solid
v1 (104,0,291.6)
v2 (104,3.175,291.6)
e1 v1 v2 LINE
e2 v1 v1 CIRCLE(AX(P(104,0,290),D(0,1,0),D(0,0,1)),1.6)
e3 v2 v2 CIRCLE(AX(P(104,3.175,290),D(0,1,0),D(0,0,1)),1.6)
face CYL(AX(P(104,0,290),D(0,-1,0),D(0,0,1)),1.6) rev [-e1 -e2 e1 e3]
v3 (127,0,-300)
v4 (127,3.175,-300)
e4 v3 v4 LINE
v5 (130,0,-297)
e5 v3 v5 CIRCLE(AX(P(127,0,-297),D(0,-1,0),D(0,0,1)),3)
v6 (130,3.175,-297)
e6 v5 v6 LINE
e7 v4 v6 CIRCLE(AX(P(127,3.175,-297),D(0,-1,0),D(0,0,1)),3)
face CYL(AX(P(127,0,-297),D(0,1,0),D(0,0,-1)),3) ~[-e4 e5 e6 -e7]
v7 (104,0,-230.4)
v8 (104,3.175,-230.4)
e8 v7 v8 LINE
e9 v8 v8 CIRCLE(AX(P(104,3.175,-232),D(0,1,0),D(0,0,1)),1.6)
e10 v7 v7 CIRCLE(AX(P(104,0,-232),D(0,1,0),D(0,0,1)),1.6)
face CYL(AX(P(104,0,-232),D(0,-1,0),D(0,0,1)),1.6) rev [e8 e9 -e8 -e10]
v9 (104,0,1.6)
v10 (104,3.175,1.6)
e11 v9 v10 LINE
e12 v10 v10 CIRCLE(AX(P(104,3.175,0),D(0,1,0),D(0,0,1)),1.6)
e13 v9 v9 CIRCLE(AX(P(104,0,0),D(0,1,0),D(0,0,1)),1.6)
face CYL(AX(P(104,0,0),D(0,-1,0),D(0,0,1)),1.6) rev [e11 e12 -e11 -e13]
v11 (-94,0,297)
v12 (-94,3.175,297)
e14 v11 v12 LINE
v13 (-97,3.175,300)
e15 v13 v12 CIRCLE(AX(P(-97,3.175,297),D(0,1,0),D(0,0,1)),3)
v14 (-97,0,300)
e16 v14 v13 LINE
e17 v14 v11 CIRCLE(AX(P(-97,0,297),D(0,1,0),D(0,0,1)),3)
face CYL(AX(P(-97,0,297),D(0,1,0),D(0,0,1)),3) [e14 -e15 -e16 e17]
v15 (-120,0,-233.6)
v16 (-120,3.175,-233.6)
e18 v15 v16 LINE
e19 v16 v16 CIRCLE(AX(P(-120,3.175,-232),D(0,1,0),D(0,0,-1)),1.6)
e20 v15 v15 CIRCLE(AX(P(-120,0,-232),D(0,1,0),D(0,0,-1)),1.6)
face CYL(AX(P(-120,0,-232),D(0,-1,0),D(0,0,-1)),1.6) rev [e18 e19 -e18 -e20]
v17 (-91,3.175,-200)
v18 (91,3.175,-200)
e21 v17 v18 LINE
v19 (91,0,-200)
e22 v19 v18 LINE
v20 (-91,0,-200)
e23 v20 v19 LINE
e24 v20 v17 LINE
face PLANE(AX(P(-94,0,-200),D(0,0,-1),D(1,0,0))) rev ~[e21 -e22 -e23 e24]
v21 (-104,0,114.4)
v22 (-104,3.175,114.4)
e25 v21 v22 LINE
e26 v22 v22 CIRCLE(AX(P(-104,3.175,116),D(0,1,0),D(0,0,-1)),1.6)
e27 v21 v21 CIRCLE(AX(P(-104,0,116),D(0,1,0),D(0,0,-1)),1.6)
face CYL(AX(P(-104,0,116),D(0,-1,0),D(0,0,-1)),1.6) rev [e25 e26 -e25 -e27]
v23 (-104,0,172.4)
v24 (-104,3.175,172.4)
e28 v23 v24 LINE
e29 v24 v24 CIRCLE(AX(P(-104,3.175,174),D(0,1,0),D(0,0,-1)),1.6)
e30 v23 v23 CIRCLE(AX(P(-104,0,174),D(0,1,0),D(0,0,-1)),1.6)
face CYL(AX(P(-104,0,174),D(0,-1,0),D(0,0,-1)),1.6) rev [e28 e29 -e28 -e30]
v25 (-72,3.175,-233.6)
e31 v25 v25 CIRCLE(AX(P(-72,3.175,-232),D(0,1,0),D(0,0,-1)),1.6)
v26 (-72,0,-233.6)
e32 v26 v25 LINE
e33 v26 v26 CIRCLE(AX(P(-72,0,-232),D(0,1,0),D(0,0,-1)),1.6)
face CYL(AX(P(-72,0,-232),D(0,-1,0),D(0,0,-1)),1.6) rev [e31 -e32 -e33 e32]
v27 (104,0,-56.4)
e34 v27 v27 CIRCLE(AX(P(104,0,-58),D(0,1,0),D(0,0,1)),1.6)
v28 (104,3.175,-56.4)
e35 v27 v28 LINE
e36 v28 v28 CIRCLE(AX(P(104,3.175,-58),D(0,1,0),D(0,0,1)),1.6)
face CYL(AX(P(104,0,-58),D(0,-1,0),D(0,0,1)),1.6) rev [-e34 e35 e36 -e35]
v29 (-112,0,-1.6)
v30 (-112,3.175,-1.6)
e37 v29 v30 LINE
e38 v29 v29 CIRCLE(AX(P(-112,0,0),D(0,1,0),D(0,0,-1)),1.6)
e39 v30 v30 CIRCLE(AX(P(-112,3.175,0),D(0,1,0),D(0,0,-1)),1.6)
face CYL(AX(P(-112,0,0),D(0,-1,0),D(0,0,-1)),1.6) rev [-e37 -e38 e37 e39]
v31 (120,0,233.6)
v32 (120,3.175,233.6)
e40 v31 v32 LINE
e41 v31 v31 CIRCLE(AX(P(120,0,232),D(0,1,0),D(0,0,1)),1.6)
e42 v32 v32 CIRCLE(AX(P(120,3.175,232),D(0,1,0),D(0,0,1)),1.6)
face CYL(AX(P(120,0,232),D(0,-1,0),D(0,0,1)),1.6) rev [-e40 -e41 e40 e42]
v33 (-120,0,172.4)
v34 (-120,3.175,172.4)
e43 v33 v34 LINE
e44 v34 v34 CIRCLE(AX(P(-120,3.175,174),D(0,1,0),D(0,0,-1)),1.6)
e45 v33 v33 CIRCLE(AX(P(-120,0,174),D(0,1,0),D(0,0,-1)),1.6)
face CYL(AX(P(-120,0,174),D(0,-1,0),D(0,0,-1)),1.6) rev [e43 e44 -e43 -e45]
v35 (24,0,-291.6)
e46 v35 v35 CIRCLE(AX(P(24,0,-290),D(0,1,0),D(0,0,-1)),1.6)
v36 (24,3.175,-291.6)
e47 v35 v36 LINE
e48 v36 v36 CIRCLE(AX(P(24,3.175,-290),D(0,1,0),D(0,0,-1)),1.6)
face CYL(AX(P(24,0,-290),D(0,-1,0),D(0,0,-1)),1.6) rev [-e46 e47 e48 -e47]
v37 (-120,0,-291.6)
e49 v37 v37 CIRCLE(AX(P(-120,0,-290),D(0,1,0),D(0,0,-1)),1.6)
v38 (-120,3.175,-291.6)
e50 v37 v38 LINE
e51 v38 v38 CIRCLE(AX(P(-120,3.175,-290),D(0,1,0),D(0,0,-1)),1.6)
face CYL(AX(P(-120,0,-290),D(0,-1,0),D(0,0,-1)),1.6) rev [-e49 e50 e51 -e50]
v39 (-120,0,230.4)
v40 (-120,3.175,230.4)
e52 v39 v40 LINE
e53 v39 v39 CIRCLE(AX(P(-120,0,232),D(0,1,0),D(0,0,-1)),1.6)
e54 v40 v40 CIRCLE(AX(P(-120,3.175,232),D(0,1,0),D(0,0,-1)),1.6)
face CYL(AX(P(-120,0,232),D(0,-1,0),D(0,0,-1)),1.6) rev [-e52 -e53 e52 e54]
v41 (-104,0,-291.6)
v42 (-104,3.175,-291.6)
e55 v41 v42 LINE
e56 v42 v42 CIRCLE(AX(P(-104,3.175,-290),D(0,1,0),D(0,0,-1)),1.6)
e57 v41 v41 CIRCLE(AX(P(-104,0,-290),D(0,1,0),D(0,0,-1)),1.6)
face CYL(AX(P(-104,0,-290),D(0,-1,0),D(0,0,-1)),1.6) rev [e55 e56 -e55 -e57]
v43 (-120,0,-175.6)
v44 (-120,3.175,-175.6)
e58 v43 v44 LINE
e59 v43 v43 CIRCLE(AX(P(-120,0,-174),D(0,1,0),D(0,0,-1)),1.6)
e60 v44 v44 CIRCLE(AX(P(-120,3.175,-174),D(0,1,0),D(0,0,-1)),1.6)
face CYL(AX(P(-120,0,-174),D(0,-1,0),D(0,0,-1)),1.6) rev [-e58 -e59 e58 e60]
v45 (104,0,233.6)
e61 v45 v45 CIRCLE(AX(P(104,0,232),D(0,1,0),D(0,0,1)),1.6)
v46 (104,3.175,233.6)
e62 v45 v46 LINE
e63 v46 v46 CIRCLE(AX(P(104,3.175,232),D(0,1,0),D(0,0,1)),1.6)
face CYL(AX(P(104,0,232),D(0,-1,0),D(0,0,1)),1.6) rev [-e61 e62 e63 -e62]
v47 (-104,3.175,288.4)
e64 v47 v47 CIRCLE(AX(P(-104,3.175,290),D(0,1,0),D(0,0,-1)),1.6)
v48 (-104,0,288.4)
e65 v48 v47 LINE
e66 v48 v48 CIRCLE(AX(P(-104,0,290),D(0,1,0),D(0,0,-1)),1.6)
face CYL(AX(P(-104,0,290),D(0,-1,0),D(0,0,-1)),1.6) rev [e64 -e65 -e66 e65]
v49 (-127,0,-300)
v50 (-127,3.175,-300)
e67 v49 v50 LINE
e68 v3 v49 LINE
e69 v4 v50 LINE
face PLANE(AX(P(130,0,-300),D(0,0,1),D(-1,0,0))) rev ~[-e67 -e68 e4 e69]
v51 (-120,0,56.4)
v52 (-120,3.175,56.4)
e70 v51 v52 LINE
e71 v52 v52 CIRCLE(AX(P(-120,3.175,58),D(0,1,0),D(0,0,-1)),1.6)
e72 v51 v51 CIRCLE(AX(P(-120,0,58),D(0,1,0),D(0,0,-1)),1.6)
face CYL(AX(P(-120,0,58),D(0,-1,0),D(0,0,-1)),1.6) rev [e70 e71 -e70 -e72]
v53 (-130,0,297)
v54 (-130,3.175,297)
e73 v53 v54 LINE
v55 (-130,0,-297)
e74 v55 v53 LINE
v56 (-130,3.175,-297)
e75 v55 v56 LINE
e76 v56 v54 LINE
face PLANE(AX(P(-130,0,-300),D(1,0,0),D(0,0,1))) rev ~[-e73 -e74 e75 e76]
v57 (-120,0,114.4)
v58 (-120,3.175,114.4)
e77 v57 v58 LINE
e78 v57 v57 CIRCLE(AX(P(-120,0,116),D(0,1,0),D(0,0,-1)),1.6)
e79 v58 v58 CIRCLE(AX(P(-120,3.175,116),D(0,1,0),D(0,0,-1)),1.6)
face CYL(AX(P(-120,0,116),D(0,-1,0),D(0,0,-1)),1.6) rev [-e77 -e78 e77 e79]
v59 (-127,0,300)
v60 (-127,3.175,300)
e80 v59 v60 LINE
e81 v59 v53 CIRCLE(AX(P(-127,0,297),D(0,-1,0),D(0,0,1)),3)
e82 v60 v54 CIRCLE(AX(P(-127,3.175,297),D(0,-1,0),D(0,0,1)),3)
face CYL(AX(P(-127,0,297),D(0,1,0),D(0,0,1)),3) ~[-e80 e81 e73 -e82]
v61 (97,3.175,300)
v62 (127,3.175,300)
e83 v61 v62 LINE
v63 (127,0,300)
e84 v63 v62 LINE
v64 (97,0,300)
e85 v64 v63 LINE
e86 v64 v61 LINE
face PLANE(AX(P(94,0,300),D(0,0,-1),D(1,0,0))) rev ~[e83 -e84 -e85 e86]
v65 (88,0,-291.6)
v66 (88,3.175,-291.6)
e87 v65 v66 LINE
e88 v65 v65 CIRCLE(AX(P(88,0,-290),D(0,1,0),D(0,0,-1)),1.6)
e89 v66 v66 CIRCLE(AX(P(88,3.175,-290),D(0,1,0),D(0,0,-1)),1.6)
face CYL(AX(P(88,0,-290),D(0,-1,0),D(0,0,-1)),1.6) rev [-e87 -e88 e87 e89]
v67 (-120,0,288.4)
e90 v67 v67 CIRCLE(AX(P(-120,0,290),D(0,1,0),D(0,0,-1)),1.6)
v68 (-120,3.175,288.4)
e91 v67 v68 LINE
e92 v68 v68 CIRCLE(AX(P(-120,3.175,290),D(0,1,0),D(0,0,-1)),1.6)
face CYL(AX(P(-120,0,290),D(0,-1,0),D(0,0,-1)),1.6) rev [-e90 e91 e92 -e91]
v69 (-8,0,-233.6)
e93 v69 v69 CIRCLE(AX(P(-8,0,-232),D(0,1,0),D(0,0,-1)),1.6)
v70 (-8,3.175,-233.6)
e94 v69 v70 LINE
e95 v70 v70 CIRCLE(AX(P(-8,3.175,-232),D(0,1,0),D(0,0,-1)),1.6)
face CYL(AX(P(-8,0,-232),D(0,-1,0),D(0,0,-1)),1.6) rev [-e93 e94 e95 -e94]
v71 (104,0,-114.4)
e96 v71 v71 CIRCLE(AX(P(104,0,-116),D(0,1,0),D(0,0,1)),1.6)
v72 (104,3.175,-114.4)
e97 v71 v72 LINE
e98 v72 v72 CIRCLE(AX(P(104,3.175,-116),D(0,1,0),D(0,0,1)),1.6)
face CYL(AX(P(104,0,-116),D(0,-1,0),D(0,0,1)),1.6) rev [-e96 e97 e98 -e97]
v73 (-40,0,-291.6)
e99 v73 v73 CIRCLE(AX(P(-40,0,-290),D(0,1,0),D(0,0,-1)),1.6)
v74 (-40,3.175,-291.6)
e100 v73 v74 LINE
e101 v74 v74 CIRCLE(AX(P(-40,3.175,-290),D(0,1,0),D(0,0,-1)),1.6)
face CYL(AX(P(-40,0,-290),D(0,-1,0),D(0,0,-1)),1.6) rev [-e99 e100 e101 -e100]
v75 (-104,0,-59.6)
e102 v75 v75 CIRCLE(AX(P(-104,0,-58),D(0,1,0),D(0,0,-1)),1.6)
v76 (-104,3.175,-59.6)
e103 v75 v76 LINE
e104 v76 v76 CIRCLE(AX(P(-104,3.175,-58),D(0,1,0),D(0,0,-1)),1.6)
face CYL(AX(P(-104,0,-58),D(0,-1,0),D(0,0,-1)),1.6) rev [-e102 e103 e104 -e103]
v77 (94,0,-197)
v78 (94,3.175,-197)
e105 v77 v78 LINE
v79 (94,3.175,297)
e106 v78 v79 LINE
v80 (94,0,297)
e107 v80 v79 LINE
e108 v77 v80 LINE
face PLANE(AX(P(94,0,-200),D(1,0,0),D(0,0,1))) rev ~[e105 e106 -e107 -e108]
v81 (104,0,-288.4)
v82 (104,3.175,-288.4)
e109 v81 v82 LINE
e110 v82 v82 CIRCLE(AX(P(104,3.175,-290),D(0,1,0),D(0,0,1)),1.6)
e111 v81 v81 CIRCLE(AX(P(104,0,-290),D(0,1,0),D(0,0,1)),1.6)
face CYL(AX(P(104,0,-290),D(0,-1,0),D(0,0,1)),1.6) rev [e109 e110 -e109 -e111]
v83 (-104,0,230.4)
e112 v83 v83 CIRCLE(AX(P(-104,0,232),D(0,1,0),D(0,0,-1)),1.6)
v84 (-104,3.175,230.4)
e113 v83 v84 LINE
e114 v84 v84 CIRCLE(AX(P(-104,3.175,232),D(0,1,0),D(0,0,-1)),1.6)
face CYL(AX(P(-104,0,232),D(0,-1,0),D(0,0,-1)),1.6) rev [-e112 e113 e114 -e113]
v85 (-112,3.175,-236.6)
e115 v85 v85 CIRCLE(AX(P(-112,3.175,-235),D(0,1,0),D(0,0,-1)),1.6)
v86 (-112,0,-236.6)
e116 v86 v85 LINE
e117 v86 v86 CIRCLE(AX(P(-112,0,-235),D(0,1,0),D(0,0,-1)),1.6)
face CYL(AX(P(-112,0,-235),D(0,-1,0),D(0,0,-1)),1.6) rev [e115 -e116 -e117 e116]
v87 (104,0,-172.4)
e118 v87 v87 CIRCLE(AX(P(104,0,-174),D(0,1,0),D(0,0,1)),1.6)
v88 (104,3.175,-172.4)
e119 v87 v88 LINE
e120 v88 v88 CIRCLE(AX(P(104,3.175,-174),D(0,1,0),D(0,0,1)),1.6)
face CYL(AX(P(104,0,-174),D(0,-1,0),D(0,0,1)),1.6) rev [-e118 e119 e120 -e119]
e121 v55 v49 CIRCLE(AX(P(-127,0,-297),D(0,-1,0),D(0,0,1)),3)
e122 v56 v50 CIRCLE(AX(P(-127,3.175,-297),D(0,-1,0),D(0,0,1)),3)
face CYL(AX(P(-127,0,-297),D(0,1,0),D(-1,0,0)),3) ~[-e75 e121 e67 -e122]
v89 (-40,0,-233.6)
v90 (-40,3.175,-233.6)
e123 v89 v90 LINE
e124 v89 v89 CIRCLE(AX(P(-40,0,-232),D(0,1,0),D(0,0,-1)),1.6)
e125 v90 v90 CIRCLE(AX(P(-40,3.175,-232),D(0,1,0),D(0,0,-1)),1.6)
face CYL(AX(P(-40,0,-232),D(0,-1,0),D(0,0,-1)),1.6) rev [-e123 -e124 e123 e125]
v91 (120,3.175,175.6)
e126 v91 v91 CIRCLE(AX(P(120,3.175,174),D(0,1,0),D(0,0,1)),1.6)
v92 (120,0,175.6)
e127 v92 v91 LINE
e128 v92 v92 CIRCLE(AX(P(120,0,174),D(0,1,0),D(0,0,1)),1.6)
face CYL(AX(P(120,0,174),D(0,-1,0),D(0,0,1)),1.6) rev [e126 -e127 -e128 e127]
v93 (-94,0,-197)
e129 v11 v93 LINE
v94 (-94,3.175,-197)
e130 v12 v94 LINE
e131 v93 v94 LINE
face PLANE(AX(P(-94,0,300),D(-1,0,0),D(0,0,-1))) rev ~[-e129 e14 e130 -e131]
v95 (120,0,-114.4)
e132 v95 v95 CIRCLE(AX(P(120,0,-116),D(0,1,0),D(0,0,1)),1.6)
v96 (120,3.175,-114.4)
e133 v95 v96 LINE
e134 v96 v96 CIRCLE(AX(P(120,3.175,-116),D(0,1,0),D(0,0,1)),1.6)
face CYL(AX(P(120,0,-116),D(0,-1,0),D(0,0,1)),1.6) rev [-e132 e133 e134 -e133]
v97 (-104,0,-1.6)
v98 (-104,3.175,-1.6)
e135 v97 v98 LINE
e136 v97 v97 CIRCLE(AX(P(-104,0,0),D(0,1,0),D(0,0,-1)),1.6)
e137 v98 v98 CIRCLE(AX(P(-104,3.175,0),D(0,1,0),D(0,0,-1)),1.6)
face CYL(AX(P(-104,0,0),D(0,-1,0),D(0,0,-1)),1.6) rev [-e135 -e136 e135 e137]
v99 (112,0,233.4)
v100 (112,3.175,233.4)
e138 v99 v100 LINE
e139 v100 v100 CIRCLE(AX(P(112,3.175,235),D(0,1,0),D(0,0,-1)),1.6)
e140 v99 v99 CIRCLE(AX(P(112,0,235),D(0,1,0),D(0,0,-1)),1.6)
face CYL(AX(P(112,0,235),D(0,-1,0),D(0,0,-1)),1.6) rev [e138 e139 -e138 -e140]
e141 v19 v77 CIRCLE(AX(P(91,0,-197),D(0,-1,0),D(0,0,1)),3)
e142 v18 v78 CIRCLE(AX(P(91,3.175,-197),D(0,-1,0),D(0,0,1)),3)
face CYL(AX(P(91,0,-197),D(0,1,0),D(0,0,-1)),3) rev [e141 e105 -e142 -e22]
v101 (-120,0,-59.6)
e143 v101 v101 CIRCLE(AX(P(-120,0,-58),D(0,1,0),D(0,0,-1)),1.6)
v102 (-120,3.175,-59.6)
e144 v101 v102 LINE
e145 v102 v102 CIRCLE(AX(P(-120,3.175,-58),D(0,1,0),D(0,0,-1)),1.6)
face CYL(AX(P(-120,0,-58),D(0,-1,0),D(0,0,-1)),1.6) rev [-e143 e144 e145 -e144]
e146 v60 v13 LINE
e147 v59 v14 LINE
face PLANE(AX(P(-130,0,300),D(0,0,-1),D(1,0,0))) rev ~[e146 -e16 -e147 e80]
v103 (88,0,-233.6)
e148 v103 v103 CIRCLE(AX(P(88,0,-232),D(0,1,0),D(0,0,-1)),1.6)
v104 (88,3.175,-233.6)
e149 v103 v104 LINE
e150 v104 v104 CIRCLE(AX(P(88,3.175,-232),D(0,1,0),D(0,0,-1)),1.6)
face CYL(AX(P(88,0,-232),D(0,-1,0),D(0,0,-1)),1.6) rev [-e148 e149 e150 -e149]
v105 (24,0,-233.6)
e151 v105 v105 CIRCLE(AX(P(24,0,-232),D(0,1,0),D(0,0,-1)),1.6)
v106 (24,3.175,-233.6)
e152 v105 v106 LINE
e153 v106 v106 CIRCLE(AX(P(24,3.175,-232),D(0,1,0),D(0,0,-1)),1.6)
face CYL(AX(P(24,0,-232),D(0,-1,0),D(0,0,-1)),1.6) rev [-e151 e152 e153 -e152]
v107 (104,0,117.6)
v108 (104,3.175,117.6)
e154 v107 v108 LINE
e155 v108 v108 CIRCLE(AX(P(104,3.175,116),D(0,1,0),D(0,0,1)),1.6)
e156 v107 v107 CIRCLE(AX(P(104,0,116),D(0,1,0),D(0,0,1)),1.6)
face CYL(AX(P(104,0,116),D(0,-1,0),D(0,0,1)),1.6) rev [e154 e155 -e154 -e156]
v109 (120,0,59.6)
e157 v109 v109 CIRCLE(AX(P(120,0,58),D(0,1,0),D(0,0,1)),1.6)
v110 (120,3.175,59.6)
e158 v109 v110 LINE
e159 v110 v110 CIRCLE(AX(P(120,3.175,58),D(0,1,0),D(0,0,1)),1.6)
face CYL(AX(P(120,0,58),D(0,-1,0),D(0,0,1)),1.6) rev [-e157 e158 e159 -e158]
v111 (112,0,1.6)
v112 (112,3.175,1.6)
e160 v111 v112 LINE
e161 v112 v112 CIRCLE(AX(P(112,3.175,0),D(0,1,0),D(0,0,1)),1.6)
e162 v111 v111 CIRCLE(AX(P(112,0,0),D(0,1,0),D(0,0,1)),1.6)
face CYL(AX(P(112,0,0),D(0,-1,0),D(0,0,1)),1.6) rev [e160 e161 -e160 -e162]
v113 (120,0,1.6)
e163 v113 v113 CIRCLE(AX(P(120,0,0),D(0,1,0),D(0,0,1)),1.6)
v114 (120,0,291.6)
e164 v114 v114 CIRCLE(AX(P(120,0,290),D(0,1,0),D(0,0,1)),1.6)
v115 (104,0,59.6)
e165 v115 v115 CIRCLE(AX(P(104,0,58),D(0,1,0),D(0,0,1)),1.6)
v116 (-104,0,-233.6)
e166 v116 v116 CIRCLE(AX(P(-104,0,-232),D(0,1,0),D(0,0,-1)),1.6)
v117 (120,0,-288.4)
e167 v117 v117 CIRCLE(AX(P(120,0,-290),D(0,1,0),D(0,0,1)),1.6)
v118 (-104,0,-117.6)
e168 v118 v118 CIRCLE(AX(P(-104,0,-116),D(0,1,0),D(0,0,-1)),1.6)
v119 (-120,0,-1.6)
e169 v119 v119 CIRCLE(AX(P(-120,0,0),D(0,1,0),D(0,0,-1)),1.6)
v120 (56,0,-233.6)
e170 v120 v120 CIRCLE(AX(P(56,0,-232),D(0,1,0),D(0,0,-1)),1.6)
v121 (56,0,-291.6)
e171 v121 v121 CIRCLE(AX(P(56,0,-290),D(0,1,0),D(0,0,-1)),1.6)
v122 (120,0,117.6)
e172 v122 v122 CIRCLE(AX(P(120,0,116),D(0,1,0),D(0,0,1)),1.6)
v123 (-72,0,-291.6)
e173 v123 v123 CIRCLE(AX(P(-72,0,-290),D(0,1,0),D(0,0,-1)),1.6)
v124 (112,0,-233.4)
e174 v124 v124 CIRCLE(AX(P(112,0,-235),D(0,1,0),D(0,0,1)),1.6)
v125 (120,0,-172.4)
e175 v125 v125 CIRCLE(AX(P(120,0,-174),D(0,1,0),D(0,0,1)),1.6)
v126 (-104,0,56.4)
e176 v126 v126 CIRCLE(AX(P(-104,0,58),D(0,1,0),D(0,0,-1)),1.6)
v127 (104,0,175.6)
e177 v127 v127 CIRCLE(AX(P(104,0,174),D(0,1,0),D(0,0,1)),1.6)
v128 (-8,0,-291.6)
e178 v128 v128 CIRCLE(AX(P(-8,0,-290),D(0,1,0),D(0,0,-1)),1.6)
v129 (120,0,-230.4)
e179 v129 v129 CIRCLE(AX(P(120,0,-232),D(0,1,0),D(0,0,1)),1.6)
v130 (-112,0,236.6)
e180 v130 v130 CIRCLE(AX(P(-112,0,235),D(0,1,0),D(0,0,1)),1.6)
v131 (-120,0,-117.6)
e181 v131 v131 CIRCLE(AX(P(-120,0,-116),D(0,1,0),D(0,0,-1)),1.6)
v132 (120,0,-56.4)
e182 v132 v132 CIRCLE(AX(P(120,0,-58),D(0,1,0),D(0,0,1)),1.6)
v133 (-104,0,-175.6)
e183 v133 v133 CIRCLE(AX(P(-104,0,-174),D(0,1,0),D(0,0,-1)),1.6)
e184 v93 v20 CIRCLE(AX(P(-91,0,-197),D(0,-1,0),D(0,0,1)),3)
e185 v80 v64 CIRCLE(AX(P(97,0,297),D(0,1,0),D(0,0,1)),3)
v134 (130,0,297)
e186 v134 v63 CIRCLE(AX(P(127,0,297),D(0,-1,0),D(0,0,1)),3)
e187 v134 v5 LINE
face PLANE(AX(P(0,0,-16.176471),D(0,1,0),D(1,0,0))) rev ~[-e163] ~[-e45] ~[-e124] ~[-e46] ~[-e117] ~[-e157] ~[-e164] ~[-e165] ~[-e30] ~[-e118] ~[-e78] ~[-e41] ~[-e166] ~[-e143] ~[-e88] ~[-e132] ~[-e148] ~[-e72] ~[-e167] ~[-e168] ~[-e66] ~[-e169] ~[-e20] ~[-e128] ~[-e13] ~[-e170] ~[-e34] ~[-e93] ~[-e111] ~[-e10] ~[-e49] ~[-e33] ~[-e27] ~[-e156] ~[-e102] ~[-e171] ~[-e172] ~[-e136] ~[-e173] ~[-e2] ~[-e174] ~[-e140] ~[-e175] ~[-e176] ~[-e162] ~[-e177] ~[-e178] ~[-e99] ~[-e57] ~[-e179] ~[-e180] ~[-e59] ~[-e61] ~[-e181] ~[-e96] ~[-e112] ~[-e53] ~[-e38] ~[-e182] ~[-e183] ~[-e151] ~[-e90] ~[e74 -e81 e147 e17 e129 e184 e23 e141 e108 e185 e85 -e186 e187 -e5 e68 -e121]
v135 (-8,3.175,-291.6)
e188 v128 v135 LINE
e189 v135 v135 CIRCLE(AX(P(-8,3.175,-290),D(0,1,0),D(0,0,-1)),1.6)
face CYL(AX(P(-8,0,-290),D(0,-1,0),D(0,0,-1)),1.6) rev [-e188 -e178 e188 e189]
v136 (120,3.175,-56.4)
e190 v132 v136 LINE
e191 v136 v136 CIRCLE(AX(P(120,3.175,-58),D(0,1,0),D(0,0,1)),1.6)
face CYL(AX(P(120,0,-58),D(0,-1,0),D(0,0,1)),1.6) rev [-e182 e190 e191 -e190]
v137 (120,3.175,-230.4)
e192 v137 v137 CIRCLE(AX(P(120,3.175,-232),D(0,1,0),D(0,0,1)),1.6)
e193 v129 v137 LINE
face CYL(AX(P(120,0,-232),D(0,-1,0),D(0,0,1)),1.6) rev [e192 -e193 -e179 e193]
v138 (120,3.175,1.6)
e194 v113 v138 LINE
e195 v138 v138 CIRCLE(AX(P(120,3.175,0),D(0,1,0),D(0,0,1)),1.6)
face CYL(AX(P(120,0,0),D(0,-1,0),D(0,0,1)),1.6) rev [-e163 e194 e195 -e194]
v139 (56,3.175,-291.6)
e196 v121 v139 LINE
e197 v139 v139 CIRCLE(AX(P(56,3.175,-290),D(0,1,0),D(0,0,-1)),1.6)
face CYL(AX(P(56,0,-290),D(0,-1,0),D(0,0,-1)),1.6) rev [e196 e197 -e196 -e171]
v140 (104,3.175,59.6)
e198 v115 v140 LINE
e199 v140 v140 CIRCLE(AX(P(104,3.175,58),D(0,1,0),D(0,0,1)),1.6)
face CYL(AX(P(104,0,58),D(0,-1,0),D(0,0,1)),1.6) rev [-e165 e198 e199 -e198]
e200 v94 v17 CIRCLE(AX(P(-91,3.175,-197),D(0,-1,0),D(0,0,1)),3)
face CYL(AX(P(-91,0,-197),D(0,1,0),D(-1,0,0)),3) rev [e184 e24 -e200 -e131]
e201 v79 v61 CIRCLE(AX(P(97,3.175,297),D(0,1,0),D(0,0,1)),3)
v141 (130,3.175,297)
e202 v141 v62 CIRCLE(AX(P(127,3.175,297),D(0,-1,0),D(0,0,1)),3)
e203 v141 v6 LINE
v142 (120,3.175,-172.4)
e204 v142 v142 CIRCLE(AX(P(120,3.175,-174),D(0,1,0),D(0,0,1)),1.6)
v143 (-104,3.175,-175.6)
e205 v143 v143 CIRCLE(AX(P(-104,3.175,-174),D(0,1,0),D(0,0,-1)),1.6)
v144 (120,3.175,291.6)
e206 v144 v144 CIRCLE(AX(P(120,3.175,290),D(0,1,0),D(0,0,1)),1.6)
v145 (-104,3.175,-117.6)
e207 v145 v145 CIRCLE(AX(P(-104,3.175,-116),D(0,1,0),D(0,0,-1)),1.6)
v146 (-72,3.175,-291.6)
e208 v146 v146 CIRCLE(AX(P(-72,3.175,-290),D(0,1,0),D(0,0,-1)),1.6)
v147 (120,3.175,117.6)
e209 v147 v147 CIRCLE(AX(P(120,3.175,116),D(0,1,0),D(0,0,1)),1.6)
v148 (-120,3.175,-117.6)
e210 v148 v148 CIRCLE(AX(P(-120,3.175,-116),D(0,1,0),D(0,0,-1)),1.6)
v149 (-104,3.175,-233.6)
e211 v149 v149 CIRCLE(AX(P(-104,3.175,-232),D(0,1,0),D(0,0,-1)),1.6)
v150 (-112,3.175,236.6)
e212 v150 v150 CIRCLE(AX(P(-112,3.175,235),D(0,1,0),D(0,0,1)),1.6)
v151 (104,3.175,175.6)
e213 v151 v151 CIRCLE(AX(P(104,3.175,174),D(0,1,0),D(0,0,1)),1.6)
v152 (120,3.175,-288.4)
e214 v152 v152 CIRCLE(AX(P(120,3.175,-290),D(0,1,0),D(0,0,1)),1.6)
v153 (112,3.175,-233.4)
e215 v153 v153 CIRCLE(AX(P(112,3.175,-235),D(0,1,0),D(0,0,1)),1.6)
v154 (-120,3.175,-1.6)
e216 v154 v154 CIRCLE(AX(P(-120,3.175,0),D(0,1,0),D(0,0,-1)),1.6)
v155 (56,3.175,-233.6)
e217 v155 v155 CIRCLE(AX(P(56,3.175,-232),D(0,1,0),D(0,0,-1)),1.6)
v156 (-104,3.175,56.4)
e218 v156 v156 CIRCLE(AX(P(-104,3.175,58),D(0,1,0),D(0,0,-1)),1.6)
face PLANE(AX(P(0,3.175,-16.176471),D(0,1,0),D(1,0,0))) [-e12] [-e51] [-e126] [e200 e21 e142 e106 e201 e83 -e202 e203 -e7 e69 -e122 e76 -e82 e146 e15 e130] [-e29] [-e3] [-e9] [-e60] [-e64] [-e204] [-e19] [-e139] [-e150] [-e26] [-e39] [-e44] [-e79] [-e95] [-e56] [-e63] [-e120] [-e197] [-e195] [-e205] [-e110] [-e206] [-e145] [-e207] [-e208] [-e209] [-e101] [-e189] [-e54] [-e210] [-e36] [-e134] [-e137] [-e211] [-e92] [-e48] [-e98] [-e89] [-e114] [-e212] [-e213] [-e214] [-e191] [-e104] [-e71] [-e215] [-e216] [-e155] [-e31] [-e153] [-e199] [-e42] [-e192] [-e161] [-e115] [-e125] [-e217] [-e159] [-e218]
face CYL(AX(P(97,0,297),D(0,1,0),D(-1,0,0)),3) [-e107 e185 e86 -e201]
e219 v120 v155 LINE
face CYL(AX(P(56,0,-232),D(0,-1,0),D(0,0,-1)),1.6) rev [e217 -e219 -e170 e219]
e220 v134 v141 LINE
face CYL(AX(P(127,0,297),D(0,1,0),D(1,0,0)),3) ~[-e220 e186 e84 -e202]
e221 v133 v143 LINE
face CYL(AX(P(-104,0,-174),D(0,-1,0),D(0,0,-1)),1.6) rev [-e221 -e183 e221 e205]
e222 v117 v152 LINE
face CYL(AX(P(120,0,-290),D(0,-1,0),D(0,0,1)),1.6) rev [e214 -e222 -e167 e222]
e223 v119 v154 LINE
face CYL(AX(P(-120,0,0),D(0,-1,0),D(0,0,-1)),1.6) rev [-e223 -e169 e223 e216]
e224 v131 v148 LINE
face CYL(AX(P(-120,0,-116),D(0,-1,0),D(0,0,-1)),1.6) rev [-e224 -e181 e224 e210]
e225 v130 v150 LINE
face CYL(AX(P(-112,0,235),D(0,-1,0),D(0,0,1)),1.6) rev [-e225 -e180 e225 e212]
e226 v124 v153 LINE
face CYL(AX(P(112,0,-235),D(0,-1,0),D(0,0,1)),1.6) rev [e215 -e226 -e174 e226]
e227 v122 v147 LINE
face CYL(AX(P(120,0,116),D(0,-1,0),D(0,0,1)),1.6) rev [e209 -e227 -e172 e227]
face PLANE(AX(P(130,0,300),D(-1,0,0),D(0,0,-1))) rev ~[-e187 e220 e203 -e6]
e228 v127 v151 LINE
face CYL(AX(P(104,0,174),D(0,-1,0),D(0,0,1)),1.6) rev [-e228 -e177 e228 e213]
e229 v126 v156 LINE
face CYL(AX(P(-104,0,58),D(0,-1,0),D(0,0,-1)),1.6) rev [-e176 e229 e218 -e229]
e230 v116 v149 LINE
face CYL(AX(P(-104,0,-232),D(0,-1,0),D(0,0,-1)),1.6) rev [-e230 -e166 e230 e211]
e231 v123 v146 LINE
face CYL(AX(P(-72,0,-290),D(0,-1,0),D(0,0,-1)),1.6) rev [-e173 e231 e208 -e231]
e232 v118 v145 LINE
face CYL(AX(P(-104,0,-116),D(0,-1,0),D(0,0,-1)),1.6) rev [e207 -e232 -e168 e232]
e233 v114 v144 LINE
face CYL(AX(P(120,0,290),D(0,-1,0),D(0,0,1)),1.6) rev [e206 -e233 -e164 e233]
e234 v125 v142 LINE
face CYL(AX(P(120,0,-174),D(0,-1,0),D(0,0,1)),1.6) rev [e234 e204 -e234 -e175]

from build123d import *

# Parameters (mm, degrees)
SKETCH1_R           = 1.6
BOSS_EXTRUDE1_DEPTH = 3.175
FILLET1_R           = 3


with BuildPart() as part:
    # Sketch1 → Boss-Extrude1 (new body)
    with BuildSketch(Plane(origin=(0, 0, 0), x_dir=(1, 0, 0), z_dir=(0, 1, 0))):
        Polygon((-130, -300), (-94, -300), (-94, 200), (94, 200), (94, -300), (130, -300), (130, 300), (-130, 300), align=None)
        with Locations(Location((120, 290, 0), (0, 0, 270))):
            Circle(SKETCH1_R, mode=Mode.SUBTRACT)
        with Locations(Location((120, 232, 0), (0, 0, 270))):
            Circle(SKETCH1_R, mode=Mode.SUBTRACT)
        with Locations(Location((120, 174, 0), (0, 0, 270))):
            Circle(SKETCH1_R, mode=Mode.SUBTRACT)
        with Locations(Location((120, 116, 0), (0, 0, 270))):
            Circle(SKETCH1_R, mode=Mode.SUBTRACT)
        with Locations(Location((120, 58, 0), (0, 0, 270))):
            Circle(SKETCH1_R, mode=Mode.SUBTRACT)
        with Locations(Location((120, 0, 0), (0, 0, 270))):
            Circle(SKETCH1_R, mode=Mode.SUBTRACT)
        with Locations(Location((120, -58, 0), (0, 0, 270))):
            Circle(SKETCH1_R, mode=Mode.SUBTRACT)
        with Locations(Location((120, -116, 0), (0, 0, 270))):
            Circle(SKETCH1_R, mode=Mode.SUBTRACT)
        with Locations(Location((120, -174, 0), (0, 0, 270))):
            Circle(SKETCH1_R, mode=Mode.SUBTRACT)
        with Locations(Location((120, -232, 0), (0, 0, 270))):
            Circle(SKETCH1_R, mode=Mode.SUBTRACT)
        with Locations(Location((120, -290, 0), (0, 0, 270))):
            Circle(SKETCH1_R, mode=Mode.SUBTRACT)
        with Locations(Location((-120, 232, 0), (0, 0, 90))):
            Circle(SKETCH1_R, mode=Mode.SUBTRACT)
        with Locations(Location((-120, -290, 0), (0, 0, 90))):
            Circle(SKETCH1_R, mode=Mode.SUBTRACT)
        with Locations(Location((-120, -232, 0), (0, 0, 90))):
            Circle(SKETCH1_R, mode=Mode.SUBTRACT)
        with Locations(Location((-120, -174, 0), (0, 0, 90))):
            Circle(SKETCH1_R, mode=Mode.SUBTRACT)
        with Locations(Location((-120, -116, 0), (0, 0, 90))):
            Circle(SKETCH1_R, mode=Mode.SUBTRACT)
        with Locations(Location((-120, -58, 0), (0, 0, 90))):
            Circle(SKETCH1_R, mode=Mode.SUBTRACT)
        with Locations(Location((-120, 0, 0), (0, 0, 90))):
            Circle(SKETCH1_R, mode=Mode.SUBTRACT)
        with Locations(Location((-120, 58, 0), (0, 0, 90))):
            Circle(SKETCH1_R, mode=Mode.SUBTRACT)
        with Locations(Location((-120, 116, 0), (0, 0, 90))):
            Circle(SKETCH1_R, mode=Mode.SUBTRACT)
        with Locations(Location((-120, 174, 0), (0, 0, 90))):
            Circle(SKETCH1_R, mode=Mode.SUBTRACT)
        with Locations(Location((-120, 290, 0), (0, 0, 90))):
            Circle(SKETCH1_R, mode=Mode.SUBTRACT)
        with Locations(Location((112, 235, 0), (0, 0, 270))):
            Circle(SKETCH1_R, mode=Mode.SUBTRACT)
        with Locations(Location((-112, 235, 0), (0, 0, 90))):
            Circle(SKETCH1_R, mode=Mode.SUBTRACT)
        with Locations(Location((112, -235, 0), (0, 0, 90))):
            Circle(SKETCH1_R, mode=Mode.SUBTRACT)
        with Locations(Location((-112, -235, 0), (0, 0, 270))):
            Circle(SKETCH1_R, mode=Mode.SUBTRACT)
        with Locations(Location((104, 290, 0), (0, 0, 270))):
            Circle(SKETCH1_R, mode=Mode.SUBTRACT)
        with Locations(Location((104, 232, 0), (0, 0, 270))):
            Circle(SKETCH1_R, mode=Mode.SUBTRACT)
        with Locations(Location((104, 174, 0), (0, 0, 270))):
            Circle(SKETCH1_R, mode=Mode.SUBTRACT)
        with Locations(Location((104, 116, 0), (0, 0, 270))):
            Circle(SKETCH1_R, mode=Mode.SUBTRACT)
        with Locations(Location((104, 58, 0), (0, 0, 270))):
            Circle(SKETCH1_R, mode=Mode.SUBTRACT)
        with Locations(Location((104, 0, 0), (0, 0, 270))):
            Circle(SKETCH1_R, mode=Mode.SUBTRACT)
        with Locations(Location((104, -58, 0), (0, 0, 270))):
            Circle(SKETCH1_R, mode=Mode.SUBTRACT)
        with Locations(Location((104, -116, 0), (0, 0, 270))):
            Circle(SKETCH1_R, mode=Mode.SUBTRACT)
        with Locations(Location((104, -174, 0), (0, 0, 270))):
            Circle(SKETCH1_R, mode=Mode.SUBTRACT)
        with Locations(Location((104, -232, 0), (0, 0, 270))):
            Circle(SKETCH1_R, mode=Mode.SUBTRACT)
        with Locations(Location((104, -290, 0), (0, 0, 270))):
            Circle(SKETCH1_R, mode=Mode.SUBTRACT)
        with Locations(Location((-104, -290, 0), (0, 0, 90))):
            Circle(SKETCH1_R, mode=Mode.SUBTRACT)
        with Locations(Location((-104, -232, 0), (0, 0, 90))):
            Circle(SKETCH1_R, mode=Mode.SUBTRACT)
        with Locations(Location((-104, -174, 0), (0, 0, 90))):
            Circle(SKETCH1_R, mode=Mode.SUBTRACT)
        with Locations(Location((-104, -116, 0), (0, 0, 90))):
            Circle(SKETCH1_R, mode=Mode.SUBTRACT)
        with Locations(Location((-104, -58, 0), (0, 0, 90))):
            Circle(SKETCH1_R, mode=Mode.SUBTRACT)
        with Locations(Location((-104, 0, 0), (0, 0, 90))):
            Circle(SKETCH1_R, mode=Mode.SUBTRACT)
        with Locations(Location((-104, 58, 0), (0, 0, 90))):
            Circle(SKETCH1_R, mode=Mode.SUBTRACT)
        with Locations(Location((-104, 116, 0), (0, 0, 90))):
            Circle(SKETCH1_R, mode=Mode.SUBTRACT)
        with Locations(Location((-104, 174, 0), (0, 0, 90))):
            Circle(SKETCH1_R, mode=Mode.SUBTRACT)
        with Locations(Location((-104, 232, 0), (0, 0, 90))):
            Circle(SKETCH1_R, mode=Mode.SUBTRACT)
        with Locations(Location((-104, 290, 0), (0, 0, 90))):
            Circle(SKETCH1_R, mode=Mode.SUBTRACT)
        with Locations(Location((112, 0, 0), (0, 0, 270))):
            Circle(SKETCH1_R, mode=Mode.SUBTRACT)
        with Locations(Location((-112, 0, 0), (0, 0, 90))):
            Circle(SKETCH1_R, mode=Mode.SUBTRACT)
        with Locations(Location((-72, 290, 0), (0, 0, 90))):
            Circle(SKETCH1_R, mode=Mode.SUBTRACT)
        with Locations(Location((-40, 290, 0), (0, 0, 90))):
            Circle(SKETCH1_R, mode=Mode.SUBTRACT)
        with Locations(Location((-8, 290, 0), (0, 0, 90))):
            Circle(SKETCH1_R, mode=Mode.SUBTRACT)
        with Locations(Location((24, 290, 0), (0, 0, 90))):
            Circle(SKETCH1_R, mode=Mode.SUBTRACT)
        with Locations(Location((56, 290, 0), (0, 0, 90))):
            Circle(SKETCH1_R, mode=Mode.SUBTRACT)
        with Locations(Location((88, 290, 0), (0, 0, 90))):
            Circle(SKETCH1_R, mode=Mode.SUBTRACT)
        with Locations(Location((-72, 232, 0), (0, 0, 90))):
            Circle(SKETCH1_R, mode=Mode.SUBTRACT)
        with Locations(Location((-40, 232, 0), (0, 0, 90))):
            Circle(SKETCH1_R, mode=Mode.SUBTRACT)
        with Locations(Location((-8, 232, 0), (0, 0, 90))):
            Circle(SKETCH1_R, mode=Mode.SUBTRACT)
        with Locations(Location((24, 232, 0), (0, 0, 90))):
            Circle(SKETCH1_R, mode=Mode.SUBTRACT)
        with Locations(Location((56, 232, 0), (0, 0, 90))):
            Circle(SKETCH1_R, mode=Mode.SUBTRACT)
        with Locations(Location((88, 232, 0), (0, 0, 90))):
            Circle(SKETCH1_R, mode=Mode.SUBTRACT)
    extrude(amount=BOSS_EXTRUDE1_DEPTH)

    # Fillet1
    fillet1_edges = [part.edges().sort_by_distance(p)[0] for p in [
        (130, 1.5875, 300),
        (94, 1.5875, 300),
        (94, 1.5875, -200),
        (-94, 1.5875, -200),
        (-94, 1.5875, 300),
        (-130, 1.5875, 300),
        (-130, 1.5875, -300),
        (130, 1.5875, -300),
    ]]
    fillet(fillet1_edges, radius=FILLET1_R)


solid = part.part
